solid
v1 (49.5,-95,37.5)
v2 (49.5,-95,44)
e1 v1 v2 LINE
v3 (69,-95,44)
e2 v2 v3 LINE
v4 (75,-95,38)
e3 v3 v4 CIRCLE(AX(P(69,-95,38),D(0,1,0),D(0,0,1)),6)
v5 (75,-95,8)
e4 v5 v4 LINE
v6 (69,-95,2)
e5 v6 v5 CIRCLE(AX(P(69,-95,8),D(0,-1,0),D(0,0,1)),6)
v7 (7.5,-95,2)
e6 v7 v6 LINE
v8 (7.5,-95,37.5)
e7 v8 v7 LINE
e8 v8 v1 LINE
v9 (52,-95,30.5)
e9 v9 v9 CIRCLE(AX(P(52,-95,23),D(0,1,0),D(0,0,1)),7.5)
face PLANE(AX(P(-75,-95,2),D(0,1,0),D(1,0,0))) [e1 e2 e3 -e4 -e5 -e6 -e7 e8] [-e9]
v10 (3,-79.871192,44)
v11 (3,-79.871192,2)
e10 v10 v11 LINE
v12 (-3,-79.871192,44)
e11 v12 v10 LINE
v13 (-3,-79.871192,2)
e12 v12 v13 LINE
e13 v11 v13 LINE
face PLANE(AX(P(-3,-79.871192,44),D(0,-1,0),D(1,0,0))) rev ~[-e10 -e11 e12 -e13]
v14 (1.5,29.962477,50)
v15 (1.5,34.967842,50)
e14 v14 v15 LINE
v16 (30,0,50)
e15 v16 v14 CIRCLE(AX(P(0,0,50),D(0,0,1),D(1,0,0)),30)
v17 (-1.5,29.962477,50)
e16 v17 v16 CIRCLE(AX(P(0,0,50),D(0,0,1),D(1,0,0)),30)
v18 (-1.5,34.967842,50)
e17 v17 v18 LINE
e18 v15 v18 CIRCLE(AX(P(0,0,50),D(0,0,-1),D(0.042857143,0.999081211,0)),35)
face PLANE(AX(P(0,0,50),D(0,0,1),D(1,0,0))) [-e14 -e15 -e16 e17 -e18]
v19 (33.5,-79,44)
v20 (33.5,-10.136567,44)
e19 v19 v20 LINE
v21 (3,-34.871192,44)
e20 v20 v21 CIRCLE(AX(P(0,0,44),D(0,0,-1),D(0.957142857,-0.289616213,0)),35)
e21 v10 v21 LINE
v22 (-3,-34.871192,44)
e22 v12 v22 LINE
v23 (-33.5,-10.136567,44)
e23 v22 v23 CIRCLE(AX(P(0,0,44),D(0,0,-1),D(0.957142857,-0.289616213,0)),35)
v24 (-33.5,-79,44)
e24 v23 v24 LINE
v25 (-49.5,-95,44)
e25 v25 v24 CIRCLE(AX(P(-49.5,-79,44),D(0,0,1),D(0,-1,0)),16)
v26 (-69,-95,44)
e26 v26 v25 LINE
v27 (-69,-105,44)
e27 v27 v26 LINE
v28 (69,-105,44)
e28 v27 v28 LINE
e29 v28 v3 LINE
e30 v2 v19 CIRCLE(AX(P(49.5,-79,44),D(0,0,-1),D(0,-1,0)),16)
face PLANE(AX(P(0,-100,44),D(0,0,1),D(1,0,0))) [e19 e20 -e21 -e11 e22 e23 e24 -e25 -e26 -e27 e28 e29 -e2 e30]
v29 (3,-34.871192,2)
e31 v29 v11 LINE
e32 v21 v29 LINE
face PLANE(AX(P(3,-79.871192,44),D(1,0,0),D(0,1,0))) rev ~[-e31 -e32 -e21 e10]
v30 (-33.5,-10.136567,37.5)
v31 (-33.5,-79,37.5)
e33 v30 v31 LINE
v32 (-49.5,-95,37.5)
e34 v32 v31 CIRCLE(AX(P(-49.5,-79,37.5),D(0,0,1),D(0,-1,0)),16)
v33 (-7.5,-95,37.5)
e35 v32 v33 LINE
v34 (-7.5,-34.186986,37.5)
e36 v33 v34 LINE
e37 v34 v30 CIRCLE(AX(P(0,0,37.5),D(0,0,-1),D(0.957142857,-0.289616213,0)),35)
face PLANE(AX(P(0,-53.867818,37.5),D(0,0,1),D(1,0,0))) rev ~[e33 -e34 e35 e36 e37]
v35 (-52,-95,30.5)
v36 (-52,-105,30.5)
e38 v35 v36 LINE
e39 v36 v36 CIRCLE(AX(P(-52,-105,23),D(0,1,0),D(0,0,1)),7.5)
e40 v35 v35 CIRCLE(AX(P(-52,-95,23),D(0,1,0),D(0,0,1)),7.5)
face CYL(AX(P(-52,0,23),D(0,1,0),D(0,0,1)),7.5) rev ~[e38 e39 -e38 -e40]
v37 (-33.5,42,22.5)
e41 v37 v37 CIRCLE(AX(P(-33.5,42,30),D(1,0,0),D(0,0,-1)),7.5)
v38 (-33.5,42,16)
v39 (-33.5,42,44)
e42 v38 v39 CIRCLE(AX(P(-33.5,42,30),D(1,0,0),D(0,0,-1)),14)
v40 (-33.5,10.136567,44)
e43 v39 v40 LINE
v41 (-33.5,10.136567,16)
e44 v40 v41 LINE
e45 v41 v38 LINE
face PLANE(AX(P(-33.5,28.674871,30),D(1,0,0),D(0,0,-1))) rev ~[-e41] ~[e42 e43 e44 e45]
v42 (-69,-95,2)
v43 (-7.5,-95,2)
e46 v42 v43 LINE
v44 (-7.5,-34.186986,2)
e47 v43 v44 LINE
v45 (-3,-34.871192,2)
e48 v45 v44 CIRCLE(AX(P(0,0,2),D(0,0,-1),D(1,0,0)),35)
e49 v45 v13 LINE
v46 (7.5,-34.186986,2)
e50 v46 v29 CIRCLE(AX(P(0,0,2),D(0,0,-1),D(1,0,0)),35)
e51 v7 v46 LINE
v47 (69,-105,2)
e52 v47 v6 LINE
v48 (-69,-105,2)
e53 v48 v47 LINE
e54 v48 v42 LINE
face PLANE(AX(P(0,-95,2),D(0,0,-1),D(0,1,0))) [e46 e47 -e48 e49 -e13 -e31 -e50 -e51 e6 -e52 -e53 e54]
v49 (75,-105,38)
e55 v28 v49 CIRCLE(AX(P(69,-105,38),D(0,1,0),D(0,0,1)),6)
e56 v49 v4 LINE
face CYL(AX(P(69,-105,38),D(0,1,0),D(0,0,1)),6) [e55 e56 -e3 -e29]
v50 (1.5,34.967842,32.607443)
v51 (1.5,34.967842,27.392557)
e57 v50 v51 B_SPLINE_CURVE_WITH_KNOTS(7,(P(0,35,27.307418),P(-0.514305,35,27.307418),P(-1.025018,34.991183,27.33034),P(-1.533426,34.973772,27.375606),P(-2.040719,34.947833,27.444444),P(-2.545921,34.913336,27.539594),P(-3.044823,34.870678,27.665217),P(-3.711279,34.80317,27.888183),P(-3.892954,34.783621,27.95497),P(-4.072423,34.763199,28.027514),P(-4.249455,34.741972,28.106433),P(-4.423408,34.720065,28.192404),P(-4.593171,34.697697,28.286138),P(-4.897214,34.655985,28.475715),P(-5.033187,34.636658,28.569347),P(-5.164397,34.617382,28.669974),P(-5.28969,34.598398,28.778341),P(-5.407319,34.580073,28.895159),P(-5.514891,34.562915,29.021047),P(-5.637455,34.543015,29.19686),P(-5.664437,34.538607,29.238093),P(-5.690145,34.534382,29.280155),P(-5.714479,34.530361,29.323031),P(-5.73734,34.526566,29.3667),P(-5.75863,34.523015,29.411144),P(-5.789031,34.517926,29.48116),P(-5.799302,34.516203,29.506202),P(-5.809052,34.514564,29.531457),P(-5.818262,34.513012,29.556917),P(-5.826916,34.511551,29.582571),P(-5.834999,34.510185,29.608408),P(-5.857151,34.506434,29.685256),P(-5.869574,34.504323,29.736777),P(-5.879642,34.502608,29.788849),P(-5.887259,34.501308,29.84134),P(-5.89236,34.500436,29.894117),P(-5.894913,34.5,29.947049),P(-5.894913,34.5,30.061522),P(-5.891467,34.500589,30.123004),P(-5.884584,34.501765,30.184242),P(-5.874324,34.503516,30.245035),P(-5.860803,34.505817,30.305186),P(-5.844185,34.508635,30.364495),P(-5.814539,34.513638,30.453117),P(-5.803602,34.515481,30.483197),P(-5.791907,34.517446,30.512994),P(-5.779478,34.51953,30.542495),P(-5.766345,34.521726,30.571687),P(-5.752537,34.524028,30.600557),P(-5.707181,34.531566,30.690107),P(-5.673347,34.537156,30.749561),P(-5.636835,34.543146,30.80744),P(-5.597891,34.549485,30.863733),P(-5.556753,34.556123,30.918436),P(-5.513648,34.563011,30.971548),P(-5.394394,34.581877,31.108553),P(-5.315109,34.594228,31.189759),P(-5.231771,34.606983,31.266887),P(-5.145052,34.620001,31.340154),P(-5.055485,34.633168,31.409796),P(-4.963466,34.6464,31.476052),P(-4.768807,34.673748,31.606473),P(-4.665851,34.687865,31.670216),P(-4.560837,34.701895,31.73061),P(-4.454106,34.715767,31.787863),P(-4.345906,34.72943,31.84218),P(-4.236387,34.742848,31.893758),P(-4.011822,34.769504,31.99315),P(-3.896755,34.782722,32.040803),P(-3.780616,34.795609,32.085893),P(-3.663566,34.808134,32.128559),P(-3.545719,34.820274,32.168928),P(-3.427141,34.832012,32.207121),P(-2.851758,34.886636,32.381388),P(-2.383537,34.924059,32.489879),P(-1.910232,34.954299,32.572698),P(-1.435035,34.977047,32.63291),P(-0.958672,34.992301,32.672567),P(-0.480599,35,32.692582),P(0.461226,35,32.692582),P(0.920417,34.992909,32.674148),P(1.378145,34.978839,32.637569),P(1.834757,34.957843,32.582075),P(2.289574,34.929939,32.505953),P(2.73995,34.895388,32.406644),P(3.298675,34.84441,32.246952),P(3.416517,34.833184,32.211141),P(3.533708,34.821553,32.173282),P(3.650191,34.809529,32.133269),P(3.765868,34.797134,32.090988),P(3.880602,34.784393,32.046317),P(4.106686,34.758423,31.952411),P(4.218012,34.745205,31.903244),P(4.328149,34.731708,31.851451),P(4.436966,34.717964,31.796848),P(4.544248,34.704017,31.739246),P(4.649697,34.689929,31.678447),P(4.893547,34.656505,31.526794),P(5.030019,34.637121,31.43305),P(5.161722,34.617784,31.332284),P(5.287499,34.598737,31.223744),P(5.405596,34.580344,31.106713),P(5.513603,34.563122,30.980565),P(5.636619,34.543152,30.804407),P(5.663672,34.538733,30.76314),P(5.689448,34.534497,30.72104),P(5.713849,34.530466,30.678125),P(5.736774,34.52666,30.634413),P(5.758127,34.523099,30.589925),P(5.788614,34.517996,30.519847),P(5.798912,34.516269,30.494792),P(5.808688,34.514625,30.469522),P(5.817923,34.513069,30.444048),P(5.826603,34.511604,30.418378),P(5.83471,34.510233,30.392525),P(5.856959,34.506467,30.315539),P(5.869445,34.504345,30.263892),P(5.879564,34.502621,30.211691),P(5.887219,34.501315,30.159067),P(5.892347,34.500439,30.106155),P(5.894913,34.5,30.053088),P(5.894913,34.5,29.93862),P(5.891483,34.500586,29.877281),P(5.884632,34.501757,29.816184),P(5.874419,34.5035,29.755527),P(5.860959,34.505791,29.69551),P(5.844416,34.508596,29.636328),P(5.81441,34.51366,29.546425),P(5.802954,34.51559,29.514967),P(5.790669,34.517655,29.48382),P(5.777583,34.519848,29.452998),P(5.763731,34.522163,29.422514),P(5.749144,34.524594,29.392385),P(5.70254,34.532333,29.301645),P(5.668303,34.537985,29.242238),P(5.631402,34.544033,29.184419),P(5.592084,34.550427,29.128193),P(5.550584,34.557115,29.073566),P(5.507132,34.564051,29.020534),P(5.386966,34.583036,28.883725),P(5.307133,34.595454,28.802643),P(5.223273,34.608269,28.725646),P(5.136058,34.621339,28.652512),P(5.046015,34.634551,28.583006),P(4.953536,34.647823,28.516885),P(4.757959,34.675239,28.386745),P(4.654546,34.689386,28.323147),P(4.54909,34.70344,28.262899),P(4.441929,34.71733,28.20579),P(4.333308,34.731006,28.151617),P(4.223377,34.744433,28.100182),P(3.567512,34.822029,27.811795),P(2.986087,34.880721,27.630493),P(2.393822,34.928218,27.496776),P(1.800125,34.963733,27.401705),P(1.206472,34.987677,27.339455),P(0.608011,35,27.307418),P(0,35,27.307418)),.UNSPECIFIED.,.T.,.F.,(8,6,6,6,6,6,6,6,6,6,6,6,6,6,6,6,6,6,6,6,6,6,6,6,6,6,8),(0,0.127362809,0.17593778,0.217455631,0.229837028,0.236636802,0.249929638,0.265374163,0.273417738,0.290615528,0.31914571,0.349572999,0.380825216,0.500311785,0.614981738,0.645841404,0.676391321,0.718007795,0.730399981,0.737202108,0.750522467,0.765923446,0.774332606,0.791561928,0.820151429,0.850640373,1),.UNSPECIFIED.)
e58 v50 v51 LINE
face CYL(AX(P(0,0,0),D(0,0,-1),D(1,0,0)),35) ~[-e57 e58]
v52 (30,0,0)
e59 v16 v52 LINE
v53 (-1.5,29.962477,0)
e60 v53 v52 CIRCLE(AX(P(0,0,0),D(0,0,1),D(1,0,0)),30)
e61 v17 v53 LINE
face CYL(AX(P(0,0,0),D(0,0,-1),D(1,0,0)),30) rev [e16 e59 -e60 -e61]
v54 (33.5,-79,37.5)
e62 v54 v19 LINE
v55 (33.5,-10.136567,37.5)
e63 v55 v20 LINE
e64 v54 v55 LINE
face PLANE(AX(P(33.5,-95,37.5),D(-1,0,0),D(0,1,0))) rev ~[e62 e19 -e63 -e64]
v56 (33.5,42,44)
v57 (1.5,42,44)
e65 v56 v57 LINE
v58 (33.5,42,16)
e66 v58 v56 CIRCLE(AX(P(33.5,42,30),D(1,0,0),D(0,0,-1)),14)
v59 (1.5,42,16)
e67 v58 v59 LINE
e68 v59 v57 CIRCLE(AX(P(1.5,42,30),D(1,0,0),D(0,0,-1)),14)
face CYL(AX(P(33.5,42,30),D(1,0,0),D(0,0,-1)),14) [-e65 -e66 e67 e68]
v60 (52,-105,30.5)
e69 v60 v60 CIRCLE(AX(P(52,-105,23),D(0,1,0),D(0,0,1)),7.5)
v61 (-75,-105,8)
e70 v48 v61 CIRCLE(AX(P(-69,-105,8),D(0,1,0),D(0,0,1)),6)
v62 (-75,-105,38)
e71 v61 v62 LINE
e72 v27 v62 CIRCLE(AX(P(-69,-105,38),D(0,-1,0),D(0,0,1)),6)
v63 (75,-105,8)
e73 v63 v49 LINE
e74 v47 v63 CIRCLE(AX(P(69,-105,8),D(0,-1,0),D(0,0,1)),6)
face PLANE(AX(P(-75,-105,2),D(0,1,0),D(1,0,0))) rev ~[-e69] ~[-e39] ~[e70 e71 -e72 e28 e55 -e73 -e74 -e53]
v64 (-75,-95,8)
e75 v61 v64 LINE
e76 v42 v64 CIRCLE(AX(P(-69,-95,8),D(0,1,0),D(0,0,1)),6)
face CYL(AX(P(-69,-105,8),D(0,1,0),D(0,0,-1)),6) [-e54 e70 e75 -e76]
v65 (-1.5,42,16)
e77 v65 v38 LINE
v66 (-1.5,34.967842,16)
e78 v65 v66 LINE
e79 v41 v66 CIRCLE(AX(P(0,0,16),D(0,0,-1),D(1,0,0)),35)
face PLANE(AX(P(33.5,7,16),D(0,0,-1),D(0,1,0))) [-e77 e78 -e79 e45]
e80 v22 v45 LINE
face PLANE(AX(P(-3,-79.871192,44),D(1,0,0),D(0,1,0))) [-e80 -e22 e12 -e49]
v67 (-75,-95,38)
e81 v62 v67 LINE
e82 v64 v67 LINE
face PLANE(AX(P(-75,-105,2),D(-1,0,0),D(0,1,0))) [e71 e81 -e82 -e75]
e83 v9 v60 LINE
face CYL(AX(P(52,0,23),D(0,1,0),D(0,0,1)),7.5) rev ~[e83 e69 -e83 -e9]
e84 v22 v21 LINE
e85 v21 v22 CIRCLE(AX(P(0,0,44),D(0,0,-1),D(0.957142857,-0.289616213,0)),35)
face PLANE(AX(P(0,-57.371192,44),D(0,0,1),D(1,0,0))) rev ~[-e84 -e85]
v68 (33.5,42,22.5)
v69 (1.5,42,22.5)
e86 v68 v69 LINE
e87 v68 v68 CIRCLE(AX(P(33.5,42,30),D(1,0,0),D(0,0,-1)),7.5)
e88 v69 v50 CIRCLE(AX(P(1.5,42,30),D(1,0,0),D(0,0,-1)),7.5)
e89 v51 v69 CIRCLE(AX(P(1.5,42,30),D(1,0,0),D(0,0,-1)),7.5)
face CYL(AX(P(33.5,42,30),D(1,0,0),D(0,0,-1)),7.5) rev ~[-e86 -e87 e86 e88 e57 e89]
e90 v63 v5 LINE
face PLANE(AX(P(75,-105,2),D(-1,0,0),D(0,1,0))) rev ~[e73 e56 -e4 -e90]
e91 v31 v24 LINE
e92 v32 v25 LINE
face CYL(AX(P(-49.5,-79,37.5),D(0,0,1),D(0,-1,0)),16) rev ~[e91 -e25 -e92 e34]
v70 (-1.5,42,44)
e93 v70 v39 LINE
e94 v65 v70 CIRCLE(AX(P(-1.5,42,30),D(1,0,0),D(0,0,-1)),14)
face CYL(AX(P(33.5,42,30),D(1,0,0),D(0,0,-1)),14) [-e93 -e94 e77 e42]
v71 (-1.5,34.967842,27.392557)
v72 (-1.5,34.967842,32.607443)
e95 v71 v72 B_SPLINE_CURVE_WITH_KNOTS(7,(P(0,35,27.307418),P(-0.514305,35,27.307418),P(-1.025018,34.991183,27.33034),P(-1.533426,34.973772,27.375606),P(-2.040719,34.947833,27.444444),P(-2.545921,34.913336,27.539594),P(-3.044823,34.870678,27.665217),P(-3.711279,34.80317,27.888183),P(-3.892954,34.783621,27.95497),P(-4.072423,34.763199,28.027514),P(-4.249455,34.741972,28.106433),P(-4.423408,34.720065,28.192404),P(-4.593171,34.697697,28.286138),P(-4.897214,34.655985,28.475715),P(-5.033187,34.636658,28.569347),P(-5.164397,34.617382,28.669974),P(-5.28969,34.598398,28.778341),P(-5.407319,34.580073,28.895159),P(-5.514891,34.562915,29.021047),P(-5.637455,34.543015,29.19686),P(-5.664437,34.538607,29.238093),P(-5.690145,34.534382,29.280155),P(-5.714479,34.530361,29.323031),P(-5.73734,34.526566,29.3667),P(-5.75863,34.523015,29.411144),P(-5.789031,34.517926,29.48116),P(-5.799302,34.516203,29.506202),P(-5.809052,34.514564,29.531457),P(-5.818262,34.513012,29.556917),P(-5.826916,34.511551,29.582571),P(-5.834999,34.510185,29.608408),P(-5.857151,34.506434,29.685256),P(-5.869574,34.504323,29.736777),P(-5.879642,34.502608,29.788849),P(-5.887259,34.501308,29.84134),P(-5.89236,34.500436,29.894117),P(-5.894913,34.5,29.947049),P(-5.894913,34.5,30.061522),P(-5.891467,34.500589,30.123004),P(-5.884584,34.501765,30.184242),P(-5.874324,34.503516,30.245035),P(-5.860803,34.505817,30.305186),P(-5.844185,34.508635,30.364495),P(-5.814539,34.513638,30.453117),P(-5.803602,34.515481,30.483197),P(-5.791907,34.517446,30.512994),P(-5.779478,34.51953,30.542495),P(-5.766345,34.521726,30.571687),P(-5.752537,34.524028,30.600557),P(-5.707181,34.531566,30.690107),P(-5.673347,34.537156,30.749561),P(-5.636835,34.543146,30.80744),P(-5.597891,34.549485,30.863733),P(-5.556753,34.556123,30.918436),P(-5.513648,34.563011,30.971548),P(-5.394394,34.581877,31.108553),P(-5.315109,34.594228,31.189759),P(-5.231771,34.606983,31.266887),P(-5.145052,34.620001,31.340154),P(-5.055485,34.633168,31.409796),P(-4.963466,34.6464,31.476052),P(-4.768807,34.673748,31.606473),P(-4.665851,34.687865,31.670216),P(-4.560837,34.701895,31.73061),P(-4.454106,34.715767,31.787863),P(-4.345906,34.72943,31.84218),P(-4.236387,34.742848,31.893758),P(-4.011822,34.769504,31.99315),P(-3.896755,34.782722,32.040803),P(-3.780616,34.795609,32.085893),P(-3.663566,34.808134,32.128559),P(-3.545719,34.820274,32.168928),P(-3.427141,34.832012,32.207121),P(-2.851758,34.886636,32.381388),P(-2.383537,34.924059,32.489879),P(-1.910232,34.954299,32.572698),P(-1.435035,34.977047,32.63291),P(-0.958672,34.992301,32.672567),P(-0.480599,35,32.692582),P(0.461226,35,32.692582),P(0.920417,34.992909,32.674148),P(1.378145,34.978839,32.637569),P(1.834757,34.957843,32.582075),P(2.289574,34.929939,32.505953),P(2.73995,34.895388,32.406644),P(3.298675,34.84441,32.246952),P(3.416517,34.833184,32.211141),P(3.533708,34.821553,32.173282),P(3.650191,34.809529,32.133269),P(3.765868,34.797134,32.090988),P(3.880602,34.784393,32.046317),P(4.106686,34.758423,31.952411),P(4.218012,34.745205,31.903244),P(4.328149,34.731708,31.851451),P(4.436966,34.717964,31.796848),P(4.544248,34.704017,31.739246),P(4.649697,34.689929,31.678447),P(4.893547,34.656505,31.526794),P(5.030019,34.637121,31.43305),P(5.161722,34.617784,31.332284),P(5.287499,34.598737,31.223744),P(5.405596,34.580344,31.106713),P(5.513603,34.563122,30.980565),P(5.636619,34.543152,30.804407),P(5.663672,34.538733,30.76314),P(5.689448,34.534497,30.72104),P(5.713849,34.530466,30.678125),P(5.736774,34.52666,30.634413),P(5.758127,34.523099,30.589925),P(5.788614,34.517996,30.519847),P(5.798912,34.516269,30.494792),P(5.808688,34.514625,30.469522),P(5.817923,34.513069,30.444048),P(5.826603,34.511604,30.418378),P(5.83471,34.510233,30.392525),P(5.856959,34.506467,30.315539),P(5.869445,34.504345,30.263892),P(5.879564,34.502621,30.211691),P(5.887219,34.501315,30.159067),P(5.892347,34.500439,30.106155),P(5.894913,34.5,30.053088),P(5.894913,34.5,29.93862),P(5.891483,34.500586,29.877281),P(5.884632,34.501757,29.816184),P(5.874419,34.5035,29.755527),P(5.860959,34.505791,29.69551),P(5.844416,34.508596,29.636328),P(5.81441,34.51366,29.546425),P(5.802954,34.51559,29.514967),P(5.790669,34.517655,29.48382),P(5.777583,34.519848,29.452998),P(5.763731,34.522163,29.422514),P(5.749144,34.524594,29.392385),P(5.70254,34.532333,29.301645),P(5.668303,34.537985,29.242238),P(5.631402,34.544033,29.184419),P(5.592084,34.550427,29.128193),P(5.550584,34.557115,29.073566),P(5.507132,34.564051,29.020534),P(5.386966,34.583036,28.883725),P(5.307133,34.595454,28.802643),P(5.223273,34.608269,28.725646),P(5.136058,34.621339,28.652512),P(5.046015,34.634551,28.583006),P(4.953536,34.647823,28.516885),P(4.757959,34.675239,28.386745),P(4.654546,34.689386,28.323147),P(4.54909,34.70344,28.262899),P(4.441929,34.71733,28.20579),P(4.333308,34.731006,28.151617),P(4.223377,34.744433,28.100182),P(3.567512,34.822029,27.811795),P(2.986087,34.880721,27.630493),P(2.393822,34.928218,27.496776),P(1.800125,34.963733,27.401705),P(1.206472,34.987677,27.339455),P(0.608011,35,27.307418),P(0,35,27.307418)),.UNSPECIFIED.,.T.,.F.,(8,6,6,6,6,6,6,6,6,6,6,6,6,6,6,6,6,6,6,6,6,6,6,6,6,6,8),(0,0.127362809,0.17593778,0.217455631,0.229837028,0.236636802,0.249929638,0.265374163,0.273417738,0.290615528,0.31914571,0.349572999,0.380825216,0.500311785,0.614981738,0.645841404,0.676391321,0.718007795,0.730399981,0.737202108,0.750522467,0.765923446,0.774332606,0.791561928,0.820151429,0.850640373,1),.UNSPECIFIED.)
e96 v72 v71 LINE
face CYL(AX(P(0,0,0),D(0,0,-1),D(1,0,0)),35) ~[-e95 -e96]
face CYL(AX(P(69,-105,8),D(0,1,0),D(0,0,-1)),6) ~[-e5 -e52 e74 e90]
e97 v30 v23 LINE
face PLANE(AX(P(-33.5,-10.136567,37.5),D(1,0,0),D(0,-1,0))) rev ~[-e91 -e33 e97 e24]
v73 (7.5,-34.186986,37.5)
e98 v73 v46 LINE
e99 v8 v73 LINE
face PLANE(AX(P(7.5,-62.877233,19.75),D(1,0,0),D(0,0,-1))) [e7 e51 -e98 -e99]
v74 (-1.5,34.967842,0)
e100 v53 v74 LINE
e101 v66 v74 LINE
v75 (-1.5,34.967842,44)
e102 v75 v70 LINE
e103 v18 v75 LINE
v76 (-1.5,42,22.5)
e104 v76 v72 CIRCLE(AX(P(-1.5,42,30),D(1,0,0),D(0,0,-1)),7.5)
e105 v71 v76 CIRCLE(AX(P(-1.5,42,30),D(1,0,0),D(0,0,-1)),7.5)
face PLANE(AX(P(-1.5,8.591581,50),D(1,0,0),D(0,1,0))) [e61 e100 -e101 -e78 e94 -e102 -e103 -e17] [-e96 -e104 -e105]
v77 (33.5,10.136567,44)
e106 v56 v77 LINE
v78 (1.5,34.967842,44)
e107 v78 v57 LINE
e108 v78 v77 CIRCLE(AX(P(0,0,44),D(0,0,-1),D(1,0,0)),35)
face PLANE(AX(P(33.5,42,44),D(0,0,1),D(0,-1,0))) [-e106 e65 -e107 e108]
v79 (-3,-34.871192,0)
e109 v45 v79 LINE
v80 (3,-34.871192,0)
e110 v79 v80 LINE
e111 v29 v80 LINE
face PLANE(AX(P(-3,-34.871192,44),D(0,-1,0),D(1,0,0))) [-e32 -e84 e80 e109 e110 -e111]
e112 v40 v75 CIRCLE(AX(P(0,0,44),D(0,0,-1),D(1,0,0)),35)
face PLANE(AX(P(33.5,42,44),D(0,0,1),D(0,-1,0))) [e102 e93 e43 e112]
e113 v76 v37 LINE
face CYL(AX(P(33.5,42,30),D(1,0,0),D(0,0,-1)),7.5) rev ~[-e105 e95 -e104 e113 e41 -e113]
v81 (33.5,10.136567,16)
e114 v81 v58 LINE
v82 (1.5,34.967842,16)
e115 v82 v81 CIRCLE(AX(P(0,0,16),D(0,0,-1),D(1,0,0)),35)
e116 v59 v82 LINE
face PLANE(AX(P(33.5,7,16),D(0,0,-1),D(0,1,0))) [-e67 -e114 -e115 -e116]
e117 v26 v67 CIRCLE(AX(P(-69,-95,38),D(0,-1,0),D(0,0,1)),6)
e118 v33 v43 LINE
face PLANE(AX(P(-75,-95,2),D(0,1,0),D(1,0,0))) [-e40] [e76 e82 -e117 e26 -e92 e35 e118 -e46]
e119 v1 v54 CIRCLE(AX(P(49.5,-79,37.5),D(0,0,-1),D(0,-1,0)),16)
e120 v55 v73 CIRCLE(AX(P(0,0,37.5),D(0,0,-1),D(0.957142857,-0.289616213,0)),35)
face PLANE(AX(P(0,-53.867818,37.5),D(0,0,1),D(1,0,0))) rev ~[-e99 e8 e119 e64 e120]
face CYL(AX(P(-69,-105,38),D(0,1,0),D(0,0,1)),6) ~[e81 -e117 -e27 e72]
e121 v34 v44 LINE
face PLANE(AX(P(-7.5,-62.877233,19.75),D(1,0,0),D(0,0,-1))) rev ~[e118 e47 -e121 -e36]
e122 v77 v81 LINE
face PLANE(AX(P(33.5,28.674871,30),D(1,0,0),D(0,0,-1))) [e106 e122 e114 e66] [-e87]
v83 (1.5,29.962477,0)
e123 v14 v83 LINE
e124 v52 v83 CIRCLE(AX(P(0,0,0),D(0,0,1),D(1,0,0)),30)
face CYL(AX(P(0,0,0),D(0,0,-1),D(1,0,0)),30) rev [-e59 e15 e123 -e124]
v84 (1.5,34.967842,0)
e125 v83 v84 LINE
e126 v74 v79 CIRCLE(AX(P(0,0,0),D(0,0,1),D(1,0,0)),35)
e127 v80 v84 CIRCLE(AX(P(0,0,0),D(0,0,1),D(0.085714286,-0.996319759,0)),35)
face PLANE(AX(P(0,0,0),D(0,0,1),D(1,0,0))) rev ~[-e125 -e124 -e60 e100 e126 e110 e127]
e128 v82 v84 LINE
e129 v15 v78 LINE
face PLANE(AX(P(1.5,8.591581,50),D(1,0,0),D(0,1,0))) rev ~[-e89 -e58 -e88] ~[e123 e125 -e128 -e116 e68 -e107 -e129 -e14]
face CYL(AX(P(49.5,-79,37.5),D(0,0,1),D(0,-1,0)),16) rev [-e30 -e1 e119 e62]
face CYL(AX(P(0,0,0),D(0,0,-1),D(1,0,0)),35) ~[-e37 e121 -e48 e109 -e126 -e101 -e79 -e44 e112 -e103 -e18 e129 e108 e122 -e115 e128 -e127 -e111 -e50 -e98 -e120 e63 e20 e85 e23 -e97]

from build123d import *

# Parameters (mm, degrees)
SKETCH1_R           = 35
SKETCH1_R_2         = 30
BOSS_EXTRUDE1_DEPTH = 50
SKETCH4_W           = 150
SKETCH4_H           = 10
BOSS_EXTRUDE3_DEPTH = 42
BOSS_EXTRUDE5_START = -6.5
BOSS_EXTRUDE5_DEPTH = 6.5
FILLET1_R           = 16
SKETCH8_W           = 35.5
SKETCH8_H           = 64.245534278
BOSS_EXTRUDE6_DEPTH = 7.5
SKETCH9_W           = 6
SKETCH9_H           = 45
CUT_EXTRUDE1_DEPTH  = 137.330480818
SKETCH10_R          = 7.5
BOSS_EXTRUDE8_DEPTH = 67
CUT_EXTRUDE3_START  = -67
SKETCH12_R          = 30
CUT_EXTRUDE3_DEPTH  = 67
SKETCH13_W          = 3
SKETCH13_H          = 51.427571889
CUT_EXTRUDE4_DEPTH  = 67
SKETCH15_R          = 7.5
CUT_EXTRUDE5_DEPTH  = 113
FILLET2_R           = 6


with BuildPart() as part:
    # Sketch1 → Boss-Extrude1 (new body)
    with BuildSketch(Plane.XY):
        Circle(SKETCH1_R)
        Circle(SKETCH1_R_2, mode=Mode.SUBTRACT)
    extrude(amount=BOSS_EXTRUDE1_DEPTH)



with BuildPart() as body_2:
    # Sketch4 → Boss-Extrude3 (new body)
    with BuildSketch(Plane.XY.offset(2)):
        with Locations((0, -100)):
            Rectangle(SKETCH4_W, SKETCH4_H)
    extrude(amount=BOSS_EXTRUDE3_DEPTH)


with BuildPart() as part_1:
    add(part.part)

    add(body_2.part)  # Boss-Extrude5 merges body 2
    # Sketch5 → Boss-Extrude5 (add)
    with BuildSketch(Plane.XY.offset(44).offset(BOSS_EXTRUDE5_START)):
        with BuildLine():
            Line((-33.5, -10.136567466), (-33.5, -95))
            Line((-33.5, -95), (33.5, -95))
            Line((33.5, -95), (33.5, -10.136567466))
            ThreePointArc((33.5, -10.136567466), (0, -35), (-33.5, -10.136567466))
        make_face()
    extrude(amount=BOSS_EXTRUDE5_DEPTH)

    # Fillet1
    fillet1_edges = [part_1.edges().sort_by_distance(p)[0] for p in [
        (33.5, -95, 40.75),
        (-33.5, -95, 40.75),
    ]]
    fillet(fillet1_edges, radius=FILLET1_R)

    # Sketch8 → Boss-Extrude6 (add, symmetric)
    with BuildSketch(Plane(origin=(0, 0, 0), x_dir=(0, 0, -1), z_dir=(1, 0, 0))):
        with Locations((-19.75, -62.877232861)):
            Rectangle(SKETCH8_W, SKETCH8_H)
    extrude(amount=BOSS_EXTRUDE6_DEPTH, both=True)

    # Sketch9 → Cut-Extrude1 (cut, through all)
    with BuildSketch(Plane.XY.offset(44)):
        with Locations((0, -57.371191548)):
            Rectangle(SKETCH9_W, SKETCH9_H)
    extrude(amount=-CUT_EXTRUDE1_DEPTH, mode=Mode.SUBTRACT)

    # Sketch10 → Boss-Extrude8 (add)
    with BuildSketch(Plane(origin=(33.5, 0, 0), x_dir=(0, 0, -1), z_dir=(1, 0, 0))):
        with BuildLine():
            Line((-44, 42), (-44, 7))
            Line((-44, 7), (-16, 7))
            Line((-16, 7), (-16, 42))
            ThreePointArc((-16, 42), (-30, 56), (-44, 42))
        make_face()
        with Locations((-30, 42)):
            Circle(SKETCH10_R, mode=Mode.SUBTRACT)
    extrude(amount=-BOSS_EXTRUDE8_DEPTH)

    # Sketch12 → Cut-Extrude3 (cut)
    with BuildSketch(Plane.XY.offset(44).offset(CUT_EXTRUDE3_START)):
        Circle(SKETCH12_R)
    extrude(amount=CUT_EXTRUDE3_DEPTH, mode=Mode.SUBTRACT)

    # Sketch13 → Cut-Extrude4 (cut)
    with BuildSketch(Plane.XY.offset(50)):
        with Locations((0, 34.305367012)):
            Rectangle(SKETCH13_W, SKETCH13_H)
    extrude(amount=-CUT_EXTRUDE4_DEPTH, mode=Mode.SUBTRACT)

    # Sketch15 → Cut-Extrude5 (cut)
    with BuildSketch(Plane(origin=(0, 0, 0), x_dir=(1, 0, 0), z_dir=(0, 1, 0))):
        with Locations(Location((-52, -23, 0), (0, 0, 270))):
            Circle(SKETCH15_R)
        with Locations(Location((52, -23, 0), (0, 0, 270))):
            Circle(SKETCH15_R)
    extrude(amount=-CUT_EXTRUDE5_DEPTH, mode=Mode.SUBTRACT)

    # Fillet2
    fillet2_edges = [part_1.edges().sort_by_distance(p)[0] for p in [
        (-75, -100, 2),
        (75, -100, 2),
        (-75, -100, 44),
        (75, -100, 44),
    ]]
    fillet(fillet2_edges, radius=FILLET2_R)


solid = part_1.part
